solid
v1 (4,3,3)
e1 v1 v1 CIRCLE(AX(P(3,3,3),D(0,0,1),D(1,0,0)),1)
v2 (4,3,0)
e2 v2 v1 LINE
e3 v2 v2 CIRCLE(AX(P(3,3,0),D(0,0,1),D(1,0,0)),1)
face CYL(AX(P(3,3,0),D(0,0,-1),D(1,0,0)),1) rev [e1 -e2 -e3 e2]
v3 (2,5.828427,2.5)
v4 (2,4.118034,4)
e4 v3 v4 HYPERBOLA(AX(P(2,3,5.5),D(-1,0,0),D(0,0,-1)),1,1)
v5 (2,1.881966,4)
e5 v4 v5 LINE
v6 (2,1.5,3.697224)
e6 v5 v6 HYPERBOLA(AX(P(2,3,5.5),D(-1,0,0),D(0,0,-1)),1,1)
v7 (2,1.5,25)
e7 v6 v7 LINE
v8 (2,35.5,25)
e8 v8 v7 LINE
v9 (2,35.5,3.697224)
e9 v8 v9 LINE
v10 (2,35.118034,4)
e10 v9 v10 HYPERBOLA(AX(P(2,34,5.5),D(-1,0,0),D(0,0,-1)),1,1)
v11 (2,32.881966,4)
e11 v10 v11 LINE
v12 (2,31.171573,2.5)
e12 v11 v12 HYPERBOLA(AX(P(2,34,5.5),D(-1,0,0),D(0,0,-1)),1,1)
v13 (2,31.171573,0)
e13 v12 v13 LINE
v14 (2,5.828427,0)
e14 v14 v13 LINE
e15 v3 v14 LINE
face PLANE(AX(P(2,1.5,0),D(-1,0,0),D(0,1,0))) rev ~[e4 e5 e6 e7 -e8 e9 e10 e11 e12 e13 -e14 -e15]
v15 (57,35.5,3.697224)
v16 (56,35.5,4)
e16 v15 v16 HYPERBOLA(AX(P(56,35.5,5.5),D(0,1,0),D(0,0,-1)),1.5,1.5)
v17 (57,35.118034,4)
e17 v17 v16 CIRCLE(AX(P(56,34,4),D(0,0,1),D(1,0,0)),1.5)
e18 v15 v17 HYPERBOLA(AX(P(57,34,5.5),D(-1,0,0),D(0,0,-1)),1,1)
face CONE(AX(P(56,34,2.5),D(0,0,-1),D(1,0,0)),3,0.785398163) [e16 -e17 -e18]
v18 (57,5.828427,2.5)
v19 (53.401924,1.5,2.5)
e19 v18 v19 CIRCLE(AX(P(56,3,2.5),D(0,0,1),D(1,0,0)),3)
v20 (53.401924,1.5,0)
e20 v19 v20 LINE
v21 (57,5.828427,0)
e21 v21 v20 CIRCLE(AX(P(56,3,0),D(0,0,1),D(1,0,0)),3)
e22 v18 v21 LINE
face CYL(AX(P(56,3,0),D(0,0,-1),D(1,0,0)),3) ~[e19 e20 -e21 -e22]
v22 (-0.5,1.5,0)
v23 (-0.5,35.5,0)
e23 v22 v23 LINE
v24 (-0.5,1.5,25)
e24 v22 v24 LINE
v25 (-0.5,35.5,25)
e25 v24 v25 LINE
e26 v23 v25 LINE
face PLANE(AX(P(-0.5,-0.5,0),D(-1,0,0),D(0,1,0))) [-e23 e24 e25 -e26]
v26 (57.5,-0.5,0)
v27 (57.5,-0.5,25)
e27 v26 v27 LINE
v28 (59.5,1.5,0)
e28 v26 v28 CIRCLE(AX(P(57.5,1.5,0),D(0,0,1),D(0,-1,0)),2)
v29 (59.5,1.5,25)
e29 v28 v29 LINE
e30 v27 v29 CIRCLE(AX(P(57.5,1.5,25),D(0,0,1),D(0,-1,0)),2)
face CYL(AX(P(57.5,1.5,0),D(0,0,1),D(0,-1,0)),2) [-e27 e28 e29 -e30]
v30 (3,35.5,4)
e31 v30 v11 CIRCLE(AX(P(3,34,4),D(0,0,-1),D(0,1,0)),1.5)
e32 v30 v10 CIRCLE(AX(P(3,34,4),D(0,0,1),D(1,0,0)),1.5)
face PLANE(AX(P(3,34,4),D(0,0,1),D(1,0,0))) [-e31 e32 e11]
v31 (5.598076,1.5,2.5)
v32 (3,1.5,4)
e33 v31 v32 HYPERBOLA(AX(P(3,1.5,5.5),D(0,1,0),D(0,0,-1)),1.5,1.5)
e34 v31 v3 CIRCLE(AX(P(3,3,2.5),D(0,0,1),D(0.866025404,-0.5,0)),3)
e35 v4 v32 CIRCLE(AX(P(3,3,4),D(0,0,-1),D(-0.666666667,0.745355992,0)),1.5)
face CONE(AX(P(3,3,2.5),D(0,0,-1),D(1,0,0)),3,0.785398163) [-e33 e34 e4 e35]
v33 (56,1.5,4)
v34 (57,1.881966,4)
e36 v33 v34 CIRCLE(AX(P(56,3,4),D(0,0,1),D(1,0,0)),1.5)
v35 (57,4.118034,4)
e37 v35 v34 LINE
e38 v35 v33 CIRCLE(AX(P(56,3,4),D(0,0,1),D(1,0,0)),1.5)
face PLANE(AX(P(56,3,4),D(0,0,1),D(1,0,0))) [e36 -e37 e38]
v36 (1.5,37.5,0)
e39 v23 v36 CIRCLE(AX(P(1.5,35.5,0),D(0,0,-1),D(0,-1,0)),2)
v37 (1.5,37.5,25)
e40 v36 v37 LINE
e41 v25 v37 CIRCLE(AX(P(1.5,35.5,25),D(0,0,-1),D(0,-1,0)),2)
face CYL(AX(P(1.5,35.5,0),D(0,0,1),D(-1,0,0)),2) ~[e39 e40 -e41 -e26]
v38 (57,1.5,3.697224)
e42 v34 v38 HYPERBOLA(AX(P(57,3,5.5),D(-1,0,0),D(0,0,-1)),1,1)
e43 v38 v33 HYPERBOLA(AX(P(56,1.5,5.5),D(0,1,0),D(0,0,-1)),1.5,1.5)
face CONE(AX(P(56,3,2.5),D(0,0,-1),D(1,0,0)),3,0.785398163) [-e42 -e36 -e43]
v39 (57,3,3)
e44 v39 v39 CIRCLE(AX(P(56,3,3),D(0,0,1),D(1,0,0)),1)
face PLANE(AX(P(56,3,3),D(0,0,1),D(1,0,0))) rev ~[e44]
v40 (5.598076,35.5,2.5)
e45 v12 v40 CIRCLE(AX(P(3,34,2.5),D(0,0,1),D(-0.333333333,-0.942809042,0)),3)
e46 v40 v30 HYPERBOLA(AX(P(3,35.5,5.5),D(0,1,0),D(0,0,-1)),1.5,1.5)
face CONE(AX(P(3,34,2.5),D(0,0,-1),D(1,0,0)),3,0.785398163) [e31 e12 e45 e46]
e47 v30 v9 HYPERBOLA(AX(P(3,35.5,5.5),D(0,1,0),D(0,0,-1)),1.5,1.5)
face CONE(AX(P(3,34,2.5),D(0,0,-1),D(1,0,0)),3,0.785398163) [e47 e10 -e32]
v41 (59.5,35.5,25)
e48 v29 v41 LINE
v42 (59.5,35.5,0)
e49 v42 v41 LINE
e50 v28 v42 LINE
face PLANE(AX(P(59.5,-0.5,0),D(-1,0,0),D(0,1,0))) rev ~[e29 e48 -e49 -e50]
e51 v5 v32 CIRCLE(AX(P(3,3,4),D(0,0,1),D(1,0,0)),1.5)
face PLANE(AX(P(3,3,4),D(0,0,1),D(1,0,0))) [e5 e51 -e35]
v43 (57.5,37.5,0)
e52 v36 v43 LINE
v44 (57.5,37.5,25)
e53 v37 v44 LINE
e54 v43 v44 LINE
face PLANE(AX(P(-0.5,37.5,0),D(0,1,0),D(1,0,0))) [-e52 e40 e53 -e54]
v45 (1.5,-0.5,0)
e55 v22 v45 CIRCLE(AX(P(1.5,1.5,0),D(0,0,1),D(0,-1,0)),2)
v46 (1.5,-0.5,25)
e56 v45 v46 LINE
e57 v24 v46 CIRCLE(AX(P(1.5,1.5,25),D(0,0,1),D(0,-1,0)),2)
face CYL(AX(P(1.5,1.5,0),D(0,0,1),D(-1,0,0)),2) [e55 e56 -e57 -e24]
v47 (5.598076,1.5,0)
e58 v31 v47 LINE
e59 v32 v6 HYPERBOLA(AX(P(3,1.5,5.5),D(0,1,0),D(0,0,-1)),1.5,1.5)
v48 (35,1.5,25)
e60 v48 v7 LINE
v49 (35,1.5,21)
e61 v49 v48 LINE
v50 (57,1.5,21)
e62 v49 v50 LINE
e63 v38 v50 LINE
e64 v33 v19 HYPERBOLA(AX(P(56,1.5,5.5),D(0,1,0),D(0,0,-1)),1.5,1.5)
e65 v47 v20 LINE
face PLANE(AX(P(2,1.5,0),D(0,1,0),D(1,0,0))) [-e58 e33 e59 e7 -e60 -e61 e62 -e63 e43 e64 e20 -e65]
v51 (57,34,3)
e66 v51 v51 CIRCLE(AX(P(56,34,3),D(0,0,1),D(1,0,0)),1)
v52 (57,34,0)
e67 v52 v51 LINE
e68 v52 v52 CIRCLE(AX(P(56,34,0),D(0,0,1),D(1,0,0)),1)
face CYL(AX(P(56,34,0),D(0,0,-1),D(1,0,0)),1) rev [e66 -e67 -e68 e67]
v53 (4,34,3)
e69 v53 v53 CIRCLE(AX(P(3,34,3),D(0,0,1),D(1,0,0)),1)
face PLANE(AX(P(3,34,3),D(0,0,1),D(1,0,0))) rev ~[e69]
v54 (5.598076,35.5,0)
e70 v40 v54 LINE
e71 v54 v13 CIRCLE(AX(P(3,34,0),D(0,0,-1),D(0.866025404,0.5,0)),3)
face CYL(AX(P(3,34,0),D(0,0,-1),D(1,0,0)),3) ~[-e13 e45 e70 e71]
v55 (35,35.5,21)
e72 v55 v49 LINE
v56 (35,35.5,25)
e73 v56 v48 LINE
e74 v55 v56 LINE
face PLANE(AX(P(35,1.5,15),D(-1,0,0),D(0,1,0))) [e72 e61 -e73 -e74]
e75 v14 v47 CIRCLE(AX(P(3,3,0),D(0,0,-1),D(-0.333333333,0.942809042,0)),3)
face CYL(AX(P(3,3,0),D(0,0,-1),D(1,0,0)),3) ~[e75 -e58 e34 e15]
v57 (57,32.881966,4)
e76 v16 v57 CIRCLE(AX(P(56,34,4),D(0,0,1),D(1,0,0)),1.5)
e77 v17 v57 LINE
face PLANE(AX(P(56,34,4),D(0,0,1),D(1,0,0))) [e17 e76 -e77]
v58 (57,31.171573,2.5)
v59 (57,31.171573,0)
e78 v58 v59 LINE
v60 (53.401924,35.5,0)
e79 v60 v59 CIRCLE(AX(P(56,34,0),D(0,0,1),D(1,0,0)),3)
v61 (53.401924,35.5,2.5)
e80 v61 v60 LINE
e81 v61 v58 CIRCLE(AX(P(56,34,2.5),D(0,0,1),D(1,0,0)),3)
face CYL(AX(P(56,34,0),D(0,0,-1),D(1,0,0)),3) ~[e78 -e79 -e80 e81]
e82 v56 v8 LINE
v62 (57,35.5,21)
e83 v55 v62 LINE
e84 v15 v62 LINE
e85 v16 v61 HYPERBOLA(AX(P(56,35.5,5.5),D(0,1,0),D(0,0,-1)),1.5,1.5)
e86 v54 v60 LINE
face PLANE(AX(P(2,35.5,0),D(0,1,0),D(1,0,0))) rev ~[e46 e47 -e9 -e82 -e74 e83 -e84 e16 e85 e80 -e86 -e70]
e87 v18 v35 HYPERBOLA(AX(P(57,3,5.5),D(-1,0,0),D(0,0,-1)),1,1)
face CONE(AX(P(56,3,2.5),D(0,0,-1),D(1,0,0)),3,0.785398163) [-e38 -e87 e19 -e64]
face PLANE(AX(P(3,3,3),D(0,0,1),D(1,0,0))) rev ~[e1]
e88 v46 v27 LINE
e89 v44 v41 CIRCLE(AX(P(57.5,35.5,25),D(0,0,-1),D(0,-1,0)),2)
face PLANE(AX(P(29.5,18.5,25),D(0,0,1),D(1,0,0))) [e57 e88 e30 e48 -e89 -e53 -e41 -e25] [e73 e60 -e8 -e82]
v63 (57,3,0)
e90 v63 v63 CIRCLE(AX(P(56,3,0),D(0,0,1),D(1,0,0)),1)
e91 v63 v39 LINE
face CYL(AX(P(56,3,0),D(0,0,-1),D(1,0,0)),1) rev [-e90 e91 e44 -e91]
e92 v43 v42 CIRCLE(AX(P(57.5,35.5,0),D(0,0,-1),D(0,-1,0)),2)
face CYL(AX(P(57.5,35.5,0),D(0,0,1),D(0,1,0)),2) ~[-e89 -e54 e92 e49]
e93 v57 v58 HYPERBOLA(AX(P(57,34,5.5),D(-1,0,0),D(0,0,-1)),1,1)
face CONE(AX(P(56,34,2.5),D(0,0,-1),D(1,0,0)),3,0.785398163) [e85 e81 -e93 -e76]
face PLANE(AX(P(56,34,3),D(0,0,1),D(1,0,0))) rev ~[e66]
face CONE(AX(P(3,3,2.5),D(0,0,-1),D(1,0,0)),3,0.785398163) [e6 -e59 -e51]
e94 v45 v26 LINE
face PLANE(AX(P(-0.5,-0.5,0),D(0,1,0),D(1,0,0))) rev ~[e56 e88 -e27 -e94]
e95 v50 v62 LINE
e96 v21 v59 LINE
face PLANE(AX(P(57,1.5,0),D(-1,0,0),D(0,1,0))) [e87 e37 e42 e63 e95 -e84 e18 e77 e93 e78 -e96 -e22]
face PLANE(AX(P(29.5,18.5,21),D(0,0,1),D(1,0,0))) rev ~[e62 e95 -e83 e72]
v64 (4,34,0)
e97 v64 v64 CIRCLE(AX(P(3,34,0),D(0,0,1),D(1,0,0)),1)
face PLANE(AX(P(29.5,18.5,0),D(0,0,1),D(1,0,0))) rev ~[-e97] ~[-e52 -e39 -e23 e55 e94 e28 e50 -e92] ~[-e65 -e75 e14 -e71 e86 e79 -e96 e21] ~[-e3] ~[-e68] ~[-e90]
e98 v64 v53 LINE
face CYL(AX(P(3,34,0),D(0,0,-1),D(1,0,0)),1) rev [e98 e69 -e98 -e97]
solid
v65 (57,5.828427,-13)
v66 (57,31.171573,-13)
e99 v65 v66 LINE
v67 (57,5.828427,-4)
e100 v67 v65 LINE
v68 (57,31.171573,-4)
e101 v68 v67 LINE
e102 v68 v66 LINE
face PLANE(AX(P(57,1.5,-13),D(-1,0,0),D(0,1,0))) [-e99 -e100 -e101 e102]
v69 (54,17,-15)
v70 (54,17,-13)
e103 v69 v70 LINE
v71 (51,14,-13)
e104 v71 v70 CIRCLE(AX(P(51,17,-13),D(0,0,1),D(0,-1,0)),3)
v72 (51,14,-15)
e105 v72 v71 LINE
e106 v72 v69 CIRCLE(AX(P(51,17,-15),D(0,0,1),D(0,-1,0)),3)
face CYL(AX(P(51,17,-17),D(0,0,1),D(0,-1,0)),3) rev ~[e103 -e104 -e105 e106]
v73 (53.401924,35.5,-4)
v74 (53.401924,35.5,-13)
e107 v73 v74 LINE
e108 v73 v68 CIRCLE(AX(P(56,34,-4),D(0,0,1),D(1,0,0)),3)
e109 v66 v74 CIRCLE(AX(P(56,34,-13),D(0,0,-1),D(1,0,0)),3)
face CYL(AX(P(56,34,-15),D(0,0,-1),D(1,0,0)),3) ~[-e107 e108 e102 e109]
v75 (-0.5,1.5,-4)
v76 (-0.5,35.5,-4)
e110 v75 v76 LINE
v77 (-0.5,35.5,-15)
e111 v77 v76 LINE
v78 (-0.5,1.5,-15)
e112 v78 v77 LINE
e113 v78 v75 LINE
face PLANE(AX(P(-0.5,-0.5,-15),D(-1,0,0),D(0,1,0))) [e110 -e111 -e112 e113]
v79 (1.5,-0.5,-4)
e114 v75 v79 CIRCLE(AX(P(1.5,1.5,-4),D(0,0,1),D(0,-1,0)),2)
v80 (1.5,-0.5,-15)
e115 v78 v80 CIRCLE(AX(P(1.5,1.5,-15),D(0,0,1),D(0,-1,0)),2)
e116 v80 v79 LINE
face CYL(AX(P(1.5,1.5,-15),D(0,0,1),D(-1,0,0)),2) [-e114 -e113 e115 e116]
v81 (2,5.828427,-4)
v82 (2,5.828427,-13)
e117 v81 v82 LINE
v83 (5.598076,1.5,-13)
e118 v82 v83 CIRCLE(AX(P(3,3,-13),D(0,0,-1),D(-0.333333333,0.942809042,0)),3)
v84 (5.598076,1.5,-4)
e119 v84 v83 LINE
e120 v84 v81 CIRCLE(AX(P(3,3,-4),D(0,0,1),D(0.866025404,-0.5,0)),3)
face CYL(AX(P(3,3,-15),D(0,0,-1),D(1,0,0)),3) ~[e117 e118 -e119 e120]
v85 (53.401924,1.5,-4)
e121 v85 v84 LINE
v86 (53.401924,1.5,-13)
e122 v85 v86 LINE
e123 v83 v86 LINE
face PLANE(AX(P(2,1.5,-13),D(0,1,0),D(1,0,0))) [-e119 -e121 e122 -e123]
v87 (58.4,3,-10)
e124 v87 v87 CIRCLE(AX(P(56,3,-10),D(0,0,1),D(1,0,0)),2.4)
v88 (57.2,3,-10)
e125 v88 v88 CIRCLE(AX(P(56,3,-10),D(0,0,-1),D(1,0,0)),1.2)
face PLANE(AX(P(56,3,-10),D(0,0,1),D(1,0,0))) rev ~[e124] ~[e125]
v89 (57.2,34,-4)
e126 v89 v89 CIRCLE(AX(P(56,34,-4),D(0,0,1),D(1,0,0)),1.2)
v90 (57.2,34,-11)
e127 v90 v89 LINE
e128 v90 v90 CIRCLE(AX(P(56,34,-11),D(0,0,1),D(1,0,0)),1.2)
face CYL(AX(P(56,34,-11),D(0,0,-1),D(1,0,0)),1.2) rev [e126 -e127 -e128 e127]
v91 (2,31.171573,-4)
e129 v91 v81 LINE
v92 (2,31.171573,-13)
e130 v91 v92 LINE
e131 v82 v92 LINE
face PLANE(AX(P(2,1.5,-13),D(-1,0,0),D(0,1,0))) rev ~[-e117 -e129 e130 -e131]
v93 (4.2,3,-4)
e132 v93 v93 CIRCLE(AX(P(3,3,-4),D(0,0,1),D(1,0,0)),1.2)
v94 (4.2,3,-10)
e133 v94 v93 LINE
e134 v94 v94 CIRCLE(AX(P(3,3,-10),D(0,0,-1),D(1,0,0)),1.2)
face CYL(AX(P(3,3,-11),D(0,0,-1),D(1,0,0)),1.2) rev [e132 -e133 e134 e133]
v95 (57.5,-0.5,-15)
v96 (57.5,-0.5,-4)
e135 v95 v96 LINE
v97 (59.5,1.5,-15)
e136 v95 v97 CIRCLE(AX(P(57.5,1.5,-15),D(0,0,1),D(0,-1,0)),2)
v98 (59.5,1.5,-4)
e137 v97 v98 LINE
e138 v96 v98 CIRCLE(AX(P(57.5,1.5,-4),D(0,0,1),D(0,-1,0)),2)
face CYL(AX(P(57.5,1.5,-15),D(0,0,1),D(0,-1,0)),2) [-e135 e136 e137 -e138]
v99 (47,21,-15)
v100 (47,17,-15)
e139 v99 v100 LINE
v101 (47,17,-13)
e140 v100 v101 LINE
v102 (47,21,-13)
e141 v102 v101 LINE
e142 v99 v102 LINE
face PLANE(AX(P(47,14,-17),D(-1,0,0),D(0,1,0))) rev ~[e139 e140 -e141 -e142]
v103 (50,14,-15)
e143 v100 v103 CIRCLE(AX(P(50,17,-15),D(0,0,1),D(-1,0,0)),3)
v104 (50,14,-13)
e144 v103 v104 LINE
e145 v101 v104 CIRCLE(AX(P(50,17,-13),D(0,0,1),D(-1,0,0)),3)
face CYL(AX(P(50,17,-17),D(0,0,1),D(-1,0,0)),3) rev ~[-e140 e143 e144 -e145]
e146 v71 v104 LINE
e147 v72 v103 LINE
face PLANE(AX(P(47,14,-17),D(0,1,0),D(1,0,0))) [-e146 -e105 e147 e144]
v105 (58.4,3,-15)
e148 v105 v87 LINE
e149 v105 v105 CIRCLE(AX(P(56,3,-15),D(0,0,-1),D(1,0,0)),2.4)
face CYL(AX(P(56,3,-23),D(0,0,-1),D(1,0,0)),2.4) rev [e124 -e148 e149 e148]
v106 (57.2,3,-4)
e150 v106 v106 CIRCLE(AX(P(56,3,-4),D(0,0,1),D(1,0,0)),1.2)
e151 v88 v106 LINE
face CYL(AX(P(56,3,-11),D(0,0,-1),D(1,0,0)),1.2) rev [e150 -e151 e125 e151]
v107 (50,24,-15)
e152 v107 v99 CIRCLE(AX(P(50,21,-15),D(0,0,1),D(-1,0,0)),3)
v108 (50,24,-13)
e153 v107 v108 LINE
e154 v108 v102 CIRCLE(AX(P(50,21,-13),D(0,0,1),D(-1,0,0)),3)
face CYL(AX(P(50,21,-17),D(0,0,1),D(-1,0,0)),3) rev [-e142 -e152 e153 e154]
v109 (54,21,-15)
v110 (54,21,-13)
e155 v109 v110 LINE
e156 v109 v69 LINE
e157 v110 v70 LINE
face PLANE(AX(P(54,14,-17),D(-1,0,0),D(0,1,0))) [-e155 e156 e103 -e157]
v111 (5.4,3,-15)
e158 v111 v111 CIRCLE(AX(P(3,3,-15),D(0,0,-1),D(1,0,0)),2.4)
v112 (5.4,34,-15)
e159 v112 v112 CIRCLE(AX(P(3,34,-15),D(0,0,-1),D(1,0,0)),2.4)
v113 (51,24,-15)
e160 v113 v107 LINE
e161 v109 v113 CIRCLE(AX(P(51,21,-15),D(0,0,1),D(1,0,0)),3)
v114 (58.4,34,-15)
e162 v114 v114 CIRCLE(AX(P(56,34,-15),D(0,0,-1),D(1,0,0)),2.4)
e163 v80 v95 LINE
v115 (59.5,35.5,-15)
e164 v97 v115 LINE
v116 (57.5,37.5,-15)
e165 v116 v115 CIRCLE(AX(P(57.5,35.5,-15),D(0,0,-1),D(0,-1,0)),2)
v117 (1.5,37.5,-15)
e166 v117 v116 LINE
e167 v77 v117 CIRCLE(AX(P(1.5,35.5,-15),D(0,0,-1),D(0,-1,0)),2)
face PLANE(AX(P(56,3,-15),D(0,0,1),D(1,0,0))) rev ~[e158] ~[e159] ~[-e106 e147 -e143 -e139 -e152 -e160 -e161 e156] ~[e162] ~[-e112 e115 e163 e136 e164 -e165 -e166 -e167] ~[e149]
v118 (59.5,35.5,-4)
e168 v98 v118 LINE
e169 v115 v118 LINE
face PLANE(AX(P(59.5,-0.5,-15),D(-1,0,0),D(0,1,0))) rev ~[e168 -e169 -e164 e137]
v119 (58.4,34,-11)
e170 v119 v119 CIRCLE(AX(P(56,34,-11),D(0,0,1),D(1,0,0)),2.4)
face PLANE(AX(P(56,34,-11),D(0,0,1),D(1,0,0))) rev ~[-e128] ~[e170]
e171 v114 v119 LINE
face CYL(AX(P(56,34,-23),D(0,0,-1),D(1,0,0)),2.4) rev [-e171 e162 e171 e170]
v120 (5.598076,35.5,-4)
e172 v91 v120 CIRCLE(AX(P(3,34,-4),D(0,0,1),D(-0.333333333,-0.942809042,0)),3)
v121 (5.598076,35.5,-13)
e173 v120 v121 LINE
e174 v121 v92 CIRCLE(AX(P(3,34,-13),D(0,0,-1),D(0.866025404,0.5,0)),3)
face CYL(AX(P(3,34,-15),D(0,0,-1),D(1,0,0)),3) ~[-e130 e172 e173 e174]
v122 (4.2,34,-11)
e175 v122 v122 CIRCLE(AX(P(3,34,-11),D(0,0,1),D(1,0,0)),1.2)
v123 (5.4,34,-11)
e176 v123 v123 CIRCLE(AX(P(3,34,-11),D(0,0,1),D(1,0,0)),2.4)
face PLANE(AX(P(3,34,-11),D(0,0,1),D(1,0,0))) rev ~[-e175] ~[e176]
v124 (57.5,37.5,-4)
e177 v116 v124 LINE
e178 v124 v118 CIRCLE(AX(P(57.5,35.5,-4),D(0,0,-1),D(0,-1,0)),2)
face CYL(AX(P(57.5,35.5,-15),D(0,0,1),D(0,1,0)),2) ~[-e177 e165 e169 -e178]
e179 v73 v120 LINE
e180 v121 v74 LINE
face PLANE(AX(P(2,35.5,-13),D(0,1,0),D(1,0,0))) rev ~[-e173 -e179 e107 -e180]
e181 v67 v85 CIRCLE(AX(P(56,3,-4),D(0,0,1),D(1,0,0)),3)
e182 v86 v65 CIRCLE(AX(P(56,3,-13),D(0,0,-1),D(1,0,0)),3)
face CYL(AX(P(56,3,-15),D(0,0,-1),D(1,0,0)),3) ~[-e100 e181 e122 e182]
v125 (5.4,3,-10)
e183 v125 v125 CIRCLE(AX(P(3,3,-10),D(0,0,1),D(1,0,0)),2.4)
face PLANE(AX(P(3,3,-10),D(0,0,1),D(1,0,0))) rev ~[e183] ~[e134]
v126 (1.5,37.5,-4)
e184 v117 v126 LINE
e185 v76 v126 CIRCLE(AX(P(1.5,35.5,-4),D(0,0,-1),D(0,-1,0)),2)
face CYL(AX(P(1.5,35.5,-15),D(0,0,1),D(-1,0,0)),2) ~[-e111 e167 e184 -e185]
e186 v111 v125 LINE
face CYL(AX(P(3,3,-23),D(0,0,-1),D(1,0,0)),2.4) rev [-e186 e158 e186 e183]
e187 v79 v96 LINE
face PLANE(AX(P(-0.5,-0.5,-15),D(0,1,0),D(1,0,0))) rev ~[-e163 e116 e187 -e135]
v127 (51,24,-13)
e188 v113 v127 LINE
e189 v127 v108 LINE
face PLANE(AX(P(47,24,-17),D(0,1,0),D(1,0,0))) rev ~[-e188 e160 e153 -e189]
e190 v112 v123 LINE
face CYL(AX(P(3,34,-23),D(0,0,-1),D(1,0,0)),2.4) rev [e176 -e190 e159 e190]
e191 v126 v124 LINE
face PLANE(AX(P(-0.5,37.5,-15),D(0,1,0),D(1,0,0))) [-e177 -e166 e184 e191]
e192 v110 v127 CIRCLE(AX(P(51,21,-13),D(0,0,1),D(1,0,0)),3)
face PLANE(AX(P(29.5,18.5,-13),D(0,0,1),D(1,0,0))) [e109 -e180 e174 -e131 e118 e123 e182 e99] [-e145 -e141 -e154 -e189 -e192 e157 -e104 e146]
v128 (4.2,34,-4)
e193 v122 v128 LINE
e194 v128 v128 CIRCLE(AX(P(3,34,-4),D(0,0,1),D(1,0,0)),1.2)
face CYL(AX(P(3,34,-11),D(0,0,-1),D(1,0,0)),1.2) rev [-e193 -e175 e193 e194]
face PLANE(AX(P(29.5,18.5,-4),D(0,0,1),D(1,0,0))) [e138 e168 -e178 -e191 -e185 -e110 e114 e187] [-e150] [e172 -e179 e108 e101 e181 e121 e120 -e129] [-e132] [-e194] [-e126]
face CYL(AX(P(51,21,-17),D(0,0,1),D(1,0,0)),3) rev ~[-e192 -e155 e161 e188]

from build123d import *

# Parameters (mm, degrees)
BOX005_W          = 7
BOX005_H          = 10
BOX005_DEPTH      = 6
FILLET002_R       = 3
CYLINDER009_R     = 1.2
CYLINDER009_DEPTH = 7
CYLINDER008_R     = 2.4
CYLINDER008_DEPTH = 12
CYLINDER007_R     = 1.2
CYLINDER007_DEPTH = 7
CYLINDER006_R     = 2.4
CYLINDER006_DEPTH = 13
CYLINDER002_R     = 1.2
CYLINDER002_DEPTH = 7
CYLINDER001_R     = 2.4
CYLINDER001_DEPTH = 13
CYLINDER011_R     = 1.2
CYLINDER011_DEPTH = 7
CYLINDER010_R     = 2.4
CYLINDER010_DEPTH = 12
CYLINDER012_R     = 3
CYLINDER012_DEPTH = 11
CYLINDER014_R     = 3
CYLINDER014_DEPTH = 11
CYLINDER013_R     = 3
CYLINDER013_DEPTH = 11
CYLINDER015_R     = 3
CYLINDER015_DEPTH = 11
BOX004_W          = 55
BOX004_H          = 34
BOX004_DEPTH      = 11
BOX003_W          = 60
BOX003_H          = 38
BOX003_DEPTH      = 11
FILLET001_R       = 2
CYLINDER018_R     = 1
CYLINDER018_DEPTH = 3
CYLINDER019_R     = 1
CYLINDER019_DEPTH = 3
CYLINDER017_R     = 1
CYLINDER017_DEPTH = 3
CYLINDER016_R     = 1
CYLINDER016_DEPTH = 3
CYLINDER003_R     = 3
CYLINDER003_DEPTH = 4
CHAMFER002_SIZE   = 1.5
CYLINDER004_R     = 3
CYLINDER004_DEPTH = 4
CHAMFER003_SIZE   = 1.5
CYLINDER_R        = 3
CYLINDER_DEPTH    = 4
CHAMFER001_SIZE   = 1.5
BOX002_W          = 33
BOX002_H          = 34
BOX002_DEPTH      = 11
BOX001_W          = 55
BOX001_H          = 34
BOX001_DEPTH      = 21
BOX_W             = 60
BOX_H             = 38
BOX_DEPTH         = 25
FILLET_R          = 2
CYLINDER005_R     = 3
CYLINDER005_DEPTH = 4
CHAMFER004_SIZE   = 1.5


with BuildPart() as fillet002:
    # Box005 → Box005 (new body)
    with BuildSketch(Plane(origin=(45, 10, -17), x_dir=(1, 0, 0), z_dir=(0, 0, 1))):
        with Locations((3.5, 5)):
            Rectangle(BOX005_W, BOX005_H)
    extrude(amount=BOX005_DEPTH)

    # Fillet002
    fillet002_edges = [fillet002.edges().sort_by_distance(p)[0] for p in [
        (45, 10, -14),
        (45, 20, -14),
        (52, 10, -14),
        (52, 20, -14),
    ]]
    fillet(fillet002_edges, radius=FILLET002_R)


with BuildPart() as fillet002_1:
    # Fillet002 placement: moved
    add(fillet002.part.moved(Location((2, 4, 0))))


with BuildPart() as cylinder009:
    # Cylinder009 → Cylinder009 (new body)
    with BuildSketch(Plane(origin=(3, 3, -3), x_dir=(1, 0, 0), z_dir=(0, 0, 1))):
        Circle(CYLINDER009_R)
    extrude(amount=CYLINDER009_DEPTH)


with BuildPart() as fusion004:
    # Cylinder008 → Cylinder008 (new body)
    with BuildSketch(Plane(origin=(3, 3, -15), x_dir=(1, 0, 0), z_dir=(0, 0, 1))):
        Circle(CYLINDER008_R)
    extrude(amount=CYLINDER008_DEPTH)

    # Fusion004: union Cylinder009
    add(cylinder009.part)


with BuildPart() as fusion004_1:
    # Fusion004 placement: moved
    add(fusion004.part.moved(Location((53, 31, -4))))


with BuildPart() as cylinder007:
    # Cylinder007 → Cylinder007 (new body)
    with BuildSketch(Plane(origin=(3, 3, -3), x_dir=(1, 0, 0), z_dir=(0, 0, 1))):
        Circle(CYLINDER007_R)
    extrude(amount=CYLINDER007_DEPTH)


with BuildPart() as fusion003:
    # Cylinder006 → Cylinder006 (new body)
    with BuildSketch(Plane(origin=(3, 3, -15), x_dir=(1, 0, 0), z_dir=(0, 0, 1))):
        Circle(CYLINDER006_R)
    extrude(amount=CYLINDER006_DEPTH)

    # Fusion003: union Cylinder007
    add(cylinder007.part)


with BuildPart() as fusion003_1:
    # Fusion003 placement: moved
    add(fusion003.part.moved(Location((53, 0, -4))))


with BuildPart() as cylinder002:
    # Cylinder002 → Cylinder002 (new body)
    with BuildSketch(Plane(origin=(3, 3, -3), x_dir=(1, 0, 0), z_dir=(0, 0, 1))):
        Circle(CYLINDER002_R)
    extrude(amount=CYLINDER002_DEPTH)


with BuildPart() as fusion001:
    # Cylinder001 → Cylinder001 (new body)
    with BuildSketch(Plane(origin=(3, 3, -15), x_dir=(1, 0, 0), z_dir=(0, 0, 1))):
        Circle(CYLINDER001_R)
    extrude(amount=CYLINDER001_DEPTH)

    # Fusion001: union Cylinder002
    add(cylinder002.part)


with BuildPart() as fusion001_1:
    # Fusion001 placement: moved
    add(fusion001.part.moved(Location((0, 0, -4))))


with BuildPart() as cylinder011:
    # Cylinder011 → Cylinder011 (new body)
    with BuildSketch(Plane(origin=(3, 3, -3), x_dir=(1, 0, 0), z_dir=(0, 0, 1))):
        Circle(CYLINDER011_R)
    extrude(amount=CYLINDER011_DEPTH)


with BuildPart() as fusion008:
    # Cylinder010 → Cylinder010 (new body)
    with BuildSketch(Plane(origin=(3, 3, -15), x_dir=(1, 0, 0), z_dir=(0, 0, 1))):
        Circle(CYLINDER010_R)
    extrude(amount=CYLINDER010_DEPTH)

    # Fusion005: union Cylinder011
    add(cylinder011.part)


with BuildPart() as fusion008_1:
    # Fusion005 placement: moved
    add(fusion008.part.moved(Location((0, 31, -4))))

    # Fusion008: union Fusion004, Fusion003, Fusion001
    add(fusion004_1.part)
    add(fusion003_1.part)
    add(fusion001_1.part)


with BuildPart() as fusion008_2:
    # Fusion008 placement: moved
    add(fusion008_1.part.moved(Location((0, 0, -4))))


with BuildPart() as cylinder012:
    # Cylinder012 → Cylinder012 (new body)
    with BuildSketch(Plane(origin=(3, 3, -15), x_dir=(1, 0, 0), z_dir=(0, 0, 1))):
        Circle(CYLINDER012_R)
    extrude(amount=CYLINDER012_DEPTH)


with BuildPart() as cylinder014:
    # Cylinder014 → Cylinder014 (new body)
    with BuildSketch(Plane(origin=(56, 34, -15), x_dir=(1, 0, 0), z_dir=(0, 0, 1))):
        Circle(CYLINDER014_R)
    extrude(amount=CYLINDER014_DEPTH)


with BuildPart() as cylinder013:
    # Cylinder013 → Cylinder013 (new body)
    with BuildSketch(Plane(origin=(56, 3, -15), x_dir=(1, 0, 0), z_dir=(0, 0, 1))):
        Circle(CYLINDER013_R)
    extrude(amount=CYLINDER013_DEPTH)


with BuildPart() as fusion006:
    # Cylinder015 → Cylinder015 (new body)
    with BuildSketch(Plane(origin=(3, 34, -15), x_dir=(1, 0, 0), z_dir=(0, 0, 1))):
        Circle(CYLINDER015_R)
    extrude(amount=CYLINDER015_DEPTH)

    # Fusion006: union Cylinder012, Cylinder014, Cylinder013
    add(cylinder012.part)
    add(cylinder014.part)
    add(cylinder013.part)


with BuildPart() as vaciado_tapa:
    # Box004 → Box004 (new body)
    with BuildSketch(Plane(origin=(2, 1.5, -13), x_dir=(1, 0, 0), z_dir=(0, 0, 1))):
        with Locations((27.5, 17)):
            Rectangle(BOX004_W, BOX004_H)
    extrude(amount=BOX004_DEPTH)


with BuildPart() as trasera:
    # Box003 → Box003 (new body)
    with BuildSketch(Plane(origin=(-0.5, -0.5, -15), x_dir=(1, 0, 0), z_dir=(0, 0, 1))):
        with Locations((30, 19)):
            Rectangle(BOX003_W, BOX003_H)
    extrude(amount=BOX003_DEPTH)

    # Cut001: cut vaciado tapa
    add(vaciado_tapa.part, mode=Mode.SUBTRACT)

    # Fillet001
    fillet001_edges = [trasera.edges().sort_by_distance(p)[0] for p in [
        (-0.5, -0.5, -9.5),
        (-0.5, 37.5, -9.5),
        (59.5, -0.5, -9.5),
        (59.5, 37.5, -9.5),
    ]]
    fillet(fillet001_edges, radius=FILLET001_R)

    # Fusion007: union Fusion006
    add(fusion006.part)

    # Cut002: cut Fusion008
    add(fusion008_2.part, mode=Mode.SUBTRACT)

    # Cut003: cut Fillet002
    add(fillet002_1.part, mode=Mode.SUBTRACT)


with BuildPart() as cylinder018:
    # Cylinder018 → Cylinder018 (new body)
    with BuildSketch(Plane(origin=(56, 34, 0), x_dir=(1, 0, 0), z_dir=(0, 0, 1))):
        Circle(CYLINDER018_R)
    extrude(amount=CYLINDER018_DEPTH)


with BuildPart() as cylinder019:
    # Cylinder019 → Cylinder019 (new body)
    with BuildSketch(Plane(origin=(3, 34, 0), x_dir=(1, 0, 0), z_dir=(0, 0, 1))):
        Circle(CYLINDER019_R)
    extrude(amount=CYLINDER019_DEPTH)


with BuildPart() as cylinder017:
    # Cylinder017 → Cylinder017 (new body)
    with BuildSketch(Plane(origin=(56, 3, 0), x_dir=(1, 0, 0), z_dir=(0, 0, 1))):
        Circle(CYLINDER017_R)
    extrude(amount=CYLINDER017_DEPTH)


with BuildPart() as vaciado_tornillos_caja:
    # Cylinder016 → Cylinder016 (new body)
    with BuildSketch(Plane(origin=(3, 3, 0), x_dir=(1, 0, 0), z_dir=(0, 0, 1))):
        Circle(CYLINDER016_R)
    extrude(amount=CYLINDER016_DEPTH)

    # Fusion010: union Cylinder018, Cylinder019, Cylinder017
    add(cylinder018.part)
    add(cylinder019.part)
    add(cylinder017.part)


with BuildPart() as fijacion002:
    # Cylinder003 → Cylinder003 (new body)
    with BuildSketch(Plane(origin=(3, 3, -15), x_dir=(1, 0, 0), z_dir=(0, 0, 1))):
        Circle(CYLINDER003_R)
    extrude(amount=CYLINDER003_DEPTH)

    # Chamfer002
    chamfer002_edges = [fijacion002.edges().sort_by_distance(p)[0] for p in [
        (0, 3, -11),
    ]]
    chamfer(chamfer002_edges, length=CHAMFER002_SIZE)


with BuildPart() as fijacion002_1:
    # Chamfer002 placement: moved
    add(fijacion002.part.moved(Location((53, 0, 15))))


with BuildPart() as fijacion003:
    # Cylinder004 → Cylinder004 (new body)
    with BuildSketch(Plane(origin=(3, 3, -15), x_dir=(1, 0, 0), z_dir=(0, 0, 1))):
        Circle(CYLINDER004_R)
    extrude(amount=CYLINDER004_DEPTH)

    # Chamfer003
    chamfer003_edges = [fijacion003.edges().sort_by_distance(p)[0] for p in [
        (0, 3, -11),
    ]]
    chamfer(chamfer003_edges, length=CHAMFER003_SIZE)


with BuildPart() as fijacion003_1:
    # Chamfer003 placement: moved
    add(fijacion003.part.moved(Location((0, 31, 15))))


with BuildPart() as fijacion1:
    # Cylinder → Cylinder (new body)
    with BuildSketch(Plane(origin=(3, 3, -15), x_dir=(1, 0, 0), z_dir=(0, 0, 1))):
        Circle(CYLINDER_R)
    extrude(amount=CYLINDER_DEPTH)

    # Chamfer001
    chamfer001_edges = [fijacion1.edges().sort_by_distance(p)[0] for p in [
        (0, 3, -11),
    ]]
    chamfer(chamfer001_edges, length=CHAMFER001_SIZE)


with BuildPart() as fijacion1_1:
    # Chamfer001 placement: moved
    add(fijacion1.part.moved(Location((0, 0, 15))))


with BuildPart() as vaciado001:
    # Box002 → Box002 (new body)
    with BuildSketch(Plane(origin=(2, 1.5, 15), x_dir=(1, 0, 0), z_dir=(0, 0, 1))):
        with Locations((16.5, 17)):
            Rectangle(BOX002_W, BOX002_H)
    extrude(amount=BOX002_DEPTH)


with BuildPart() as fusion:
    # Box001 → Box001 (new body)
    with BuildSketch(Plane(origin=(2, 1.5, 0), x_dir=(1, 0, 0), z_dir=(0, 0, 1))):
        with Locations((27.5, 17)):
            Rectangle(BOX001_W, BOX001_H)
    extrude(amount=BOX001_DEPTH)

    # Fusion: union vaciado001
    add(vaciado001.part)


with BuildPart() as fillet_body:
    # Box → Box (new body)
    with BuildSketch(Plane(origin=(-0.5, -0.5, 0), x_dir=(1, 0, 0), z_dir=(0, 0, 1))):
        with Locations((30, 19)):
            Rectangle(BOX_W, BOX_H)
    extrude(amount=BOX_DEPTH)

    # Cut: cut Fusion
    add(fusion.part, mode=Mode.SUBTRACT)

    # Fillet
    fillet_edges = [fillet_body.edges().sort_by_distance(p)[0] for p in [
        (-0.5, -0.5, 12.5),
        (-0.5, 37.5, 12.5),
        (59.5, -0.5, 12.5),
        (59.5, 37.5, 12.5),
    ]]
    fillet(fillet_edges, radius=FILLET_R)


with BuildPart() as frontal:
    # Cylinder005 → Cylinder005 (new body)
    with BuildSketch(Plane(origin=(3, 3, -15), x_dir=(1, 0, 0), z_dir=(0, 0, 1))):
        Circle(CYLINDER005_R)
    extrude(amount=CYLINDER005_DEPTH)

    # Chamfer004
    chamfer004_edges = [frontal.edges().sort_by_distance(p)[0] for p in [
        (0, 3, -11),
    ]]
    chamfer(chamfer004_edges, length=CHAMFER004_SIZE)


with BuildPart() as frontal_1:
    # Chamfer004 placement: moved
    add(frontal.part.moved(Location((53, 31, 15))))

    # Fusion009: union fijacion002, fijacion003, fijacion1, Fillet body
    add(fijacion002_1.part)
    add(fijacion003_1.part)
    add(fijacion1_1.part)
    add(fillet_body.part)

    # Cut005: cut vaciado tornillos caja
    add(vaciado_tornillos_caja.part, mode=Mode.SUBTRACT)


solid = Compound([trasera.part, frontal_1.part])
